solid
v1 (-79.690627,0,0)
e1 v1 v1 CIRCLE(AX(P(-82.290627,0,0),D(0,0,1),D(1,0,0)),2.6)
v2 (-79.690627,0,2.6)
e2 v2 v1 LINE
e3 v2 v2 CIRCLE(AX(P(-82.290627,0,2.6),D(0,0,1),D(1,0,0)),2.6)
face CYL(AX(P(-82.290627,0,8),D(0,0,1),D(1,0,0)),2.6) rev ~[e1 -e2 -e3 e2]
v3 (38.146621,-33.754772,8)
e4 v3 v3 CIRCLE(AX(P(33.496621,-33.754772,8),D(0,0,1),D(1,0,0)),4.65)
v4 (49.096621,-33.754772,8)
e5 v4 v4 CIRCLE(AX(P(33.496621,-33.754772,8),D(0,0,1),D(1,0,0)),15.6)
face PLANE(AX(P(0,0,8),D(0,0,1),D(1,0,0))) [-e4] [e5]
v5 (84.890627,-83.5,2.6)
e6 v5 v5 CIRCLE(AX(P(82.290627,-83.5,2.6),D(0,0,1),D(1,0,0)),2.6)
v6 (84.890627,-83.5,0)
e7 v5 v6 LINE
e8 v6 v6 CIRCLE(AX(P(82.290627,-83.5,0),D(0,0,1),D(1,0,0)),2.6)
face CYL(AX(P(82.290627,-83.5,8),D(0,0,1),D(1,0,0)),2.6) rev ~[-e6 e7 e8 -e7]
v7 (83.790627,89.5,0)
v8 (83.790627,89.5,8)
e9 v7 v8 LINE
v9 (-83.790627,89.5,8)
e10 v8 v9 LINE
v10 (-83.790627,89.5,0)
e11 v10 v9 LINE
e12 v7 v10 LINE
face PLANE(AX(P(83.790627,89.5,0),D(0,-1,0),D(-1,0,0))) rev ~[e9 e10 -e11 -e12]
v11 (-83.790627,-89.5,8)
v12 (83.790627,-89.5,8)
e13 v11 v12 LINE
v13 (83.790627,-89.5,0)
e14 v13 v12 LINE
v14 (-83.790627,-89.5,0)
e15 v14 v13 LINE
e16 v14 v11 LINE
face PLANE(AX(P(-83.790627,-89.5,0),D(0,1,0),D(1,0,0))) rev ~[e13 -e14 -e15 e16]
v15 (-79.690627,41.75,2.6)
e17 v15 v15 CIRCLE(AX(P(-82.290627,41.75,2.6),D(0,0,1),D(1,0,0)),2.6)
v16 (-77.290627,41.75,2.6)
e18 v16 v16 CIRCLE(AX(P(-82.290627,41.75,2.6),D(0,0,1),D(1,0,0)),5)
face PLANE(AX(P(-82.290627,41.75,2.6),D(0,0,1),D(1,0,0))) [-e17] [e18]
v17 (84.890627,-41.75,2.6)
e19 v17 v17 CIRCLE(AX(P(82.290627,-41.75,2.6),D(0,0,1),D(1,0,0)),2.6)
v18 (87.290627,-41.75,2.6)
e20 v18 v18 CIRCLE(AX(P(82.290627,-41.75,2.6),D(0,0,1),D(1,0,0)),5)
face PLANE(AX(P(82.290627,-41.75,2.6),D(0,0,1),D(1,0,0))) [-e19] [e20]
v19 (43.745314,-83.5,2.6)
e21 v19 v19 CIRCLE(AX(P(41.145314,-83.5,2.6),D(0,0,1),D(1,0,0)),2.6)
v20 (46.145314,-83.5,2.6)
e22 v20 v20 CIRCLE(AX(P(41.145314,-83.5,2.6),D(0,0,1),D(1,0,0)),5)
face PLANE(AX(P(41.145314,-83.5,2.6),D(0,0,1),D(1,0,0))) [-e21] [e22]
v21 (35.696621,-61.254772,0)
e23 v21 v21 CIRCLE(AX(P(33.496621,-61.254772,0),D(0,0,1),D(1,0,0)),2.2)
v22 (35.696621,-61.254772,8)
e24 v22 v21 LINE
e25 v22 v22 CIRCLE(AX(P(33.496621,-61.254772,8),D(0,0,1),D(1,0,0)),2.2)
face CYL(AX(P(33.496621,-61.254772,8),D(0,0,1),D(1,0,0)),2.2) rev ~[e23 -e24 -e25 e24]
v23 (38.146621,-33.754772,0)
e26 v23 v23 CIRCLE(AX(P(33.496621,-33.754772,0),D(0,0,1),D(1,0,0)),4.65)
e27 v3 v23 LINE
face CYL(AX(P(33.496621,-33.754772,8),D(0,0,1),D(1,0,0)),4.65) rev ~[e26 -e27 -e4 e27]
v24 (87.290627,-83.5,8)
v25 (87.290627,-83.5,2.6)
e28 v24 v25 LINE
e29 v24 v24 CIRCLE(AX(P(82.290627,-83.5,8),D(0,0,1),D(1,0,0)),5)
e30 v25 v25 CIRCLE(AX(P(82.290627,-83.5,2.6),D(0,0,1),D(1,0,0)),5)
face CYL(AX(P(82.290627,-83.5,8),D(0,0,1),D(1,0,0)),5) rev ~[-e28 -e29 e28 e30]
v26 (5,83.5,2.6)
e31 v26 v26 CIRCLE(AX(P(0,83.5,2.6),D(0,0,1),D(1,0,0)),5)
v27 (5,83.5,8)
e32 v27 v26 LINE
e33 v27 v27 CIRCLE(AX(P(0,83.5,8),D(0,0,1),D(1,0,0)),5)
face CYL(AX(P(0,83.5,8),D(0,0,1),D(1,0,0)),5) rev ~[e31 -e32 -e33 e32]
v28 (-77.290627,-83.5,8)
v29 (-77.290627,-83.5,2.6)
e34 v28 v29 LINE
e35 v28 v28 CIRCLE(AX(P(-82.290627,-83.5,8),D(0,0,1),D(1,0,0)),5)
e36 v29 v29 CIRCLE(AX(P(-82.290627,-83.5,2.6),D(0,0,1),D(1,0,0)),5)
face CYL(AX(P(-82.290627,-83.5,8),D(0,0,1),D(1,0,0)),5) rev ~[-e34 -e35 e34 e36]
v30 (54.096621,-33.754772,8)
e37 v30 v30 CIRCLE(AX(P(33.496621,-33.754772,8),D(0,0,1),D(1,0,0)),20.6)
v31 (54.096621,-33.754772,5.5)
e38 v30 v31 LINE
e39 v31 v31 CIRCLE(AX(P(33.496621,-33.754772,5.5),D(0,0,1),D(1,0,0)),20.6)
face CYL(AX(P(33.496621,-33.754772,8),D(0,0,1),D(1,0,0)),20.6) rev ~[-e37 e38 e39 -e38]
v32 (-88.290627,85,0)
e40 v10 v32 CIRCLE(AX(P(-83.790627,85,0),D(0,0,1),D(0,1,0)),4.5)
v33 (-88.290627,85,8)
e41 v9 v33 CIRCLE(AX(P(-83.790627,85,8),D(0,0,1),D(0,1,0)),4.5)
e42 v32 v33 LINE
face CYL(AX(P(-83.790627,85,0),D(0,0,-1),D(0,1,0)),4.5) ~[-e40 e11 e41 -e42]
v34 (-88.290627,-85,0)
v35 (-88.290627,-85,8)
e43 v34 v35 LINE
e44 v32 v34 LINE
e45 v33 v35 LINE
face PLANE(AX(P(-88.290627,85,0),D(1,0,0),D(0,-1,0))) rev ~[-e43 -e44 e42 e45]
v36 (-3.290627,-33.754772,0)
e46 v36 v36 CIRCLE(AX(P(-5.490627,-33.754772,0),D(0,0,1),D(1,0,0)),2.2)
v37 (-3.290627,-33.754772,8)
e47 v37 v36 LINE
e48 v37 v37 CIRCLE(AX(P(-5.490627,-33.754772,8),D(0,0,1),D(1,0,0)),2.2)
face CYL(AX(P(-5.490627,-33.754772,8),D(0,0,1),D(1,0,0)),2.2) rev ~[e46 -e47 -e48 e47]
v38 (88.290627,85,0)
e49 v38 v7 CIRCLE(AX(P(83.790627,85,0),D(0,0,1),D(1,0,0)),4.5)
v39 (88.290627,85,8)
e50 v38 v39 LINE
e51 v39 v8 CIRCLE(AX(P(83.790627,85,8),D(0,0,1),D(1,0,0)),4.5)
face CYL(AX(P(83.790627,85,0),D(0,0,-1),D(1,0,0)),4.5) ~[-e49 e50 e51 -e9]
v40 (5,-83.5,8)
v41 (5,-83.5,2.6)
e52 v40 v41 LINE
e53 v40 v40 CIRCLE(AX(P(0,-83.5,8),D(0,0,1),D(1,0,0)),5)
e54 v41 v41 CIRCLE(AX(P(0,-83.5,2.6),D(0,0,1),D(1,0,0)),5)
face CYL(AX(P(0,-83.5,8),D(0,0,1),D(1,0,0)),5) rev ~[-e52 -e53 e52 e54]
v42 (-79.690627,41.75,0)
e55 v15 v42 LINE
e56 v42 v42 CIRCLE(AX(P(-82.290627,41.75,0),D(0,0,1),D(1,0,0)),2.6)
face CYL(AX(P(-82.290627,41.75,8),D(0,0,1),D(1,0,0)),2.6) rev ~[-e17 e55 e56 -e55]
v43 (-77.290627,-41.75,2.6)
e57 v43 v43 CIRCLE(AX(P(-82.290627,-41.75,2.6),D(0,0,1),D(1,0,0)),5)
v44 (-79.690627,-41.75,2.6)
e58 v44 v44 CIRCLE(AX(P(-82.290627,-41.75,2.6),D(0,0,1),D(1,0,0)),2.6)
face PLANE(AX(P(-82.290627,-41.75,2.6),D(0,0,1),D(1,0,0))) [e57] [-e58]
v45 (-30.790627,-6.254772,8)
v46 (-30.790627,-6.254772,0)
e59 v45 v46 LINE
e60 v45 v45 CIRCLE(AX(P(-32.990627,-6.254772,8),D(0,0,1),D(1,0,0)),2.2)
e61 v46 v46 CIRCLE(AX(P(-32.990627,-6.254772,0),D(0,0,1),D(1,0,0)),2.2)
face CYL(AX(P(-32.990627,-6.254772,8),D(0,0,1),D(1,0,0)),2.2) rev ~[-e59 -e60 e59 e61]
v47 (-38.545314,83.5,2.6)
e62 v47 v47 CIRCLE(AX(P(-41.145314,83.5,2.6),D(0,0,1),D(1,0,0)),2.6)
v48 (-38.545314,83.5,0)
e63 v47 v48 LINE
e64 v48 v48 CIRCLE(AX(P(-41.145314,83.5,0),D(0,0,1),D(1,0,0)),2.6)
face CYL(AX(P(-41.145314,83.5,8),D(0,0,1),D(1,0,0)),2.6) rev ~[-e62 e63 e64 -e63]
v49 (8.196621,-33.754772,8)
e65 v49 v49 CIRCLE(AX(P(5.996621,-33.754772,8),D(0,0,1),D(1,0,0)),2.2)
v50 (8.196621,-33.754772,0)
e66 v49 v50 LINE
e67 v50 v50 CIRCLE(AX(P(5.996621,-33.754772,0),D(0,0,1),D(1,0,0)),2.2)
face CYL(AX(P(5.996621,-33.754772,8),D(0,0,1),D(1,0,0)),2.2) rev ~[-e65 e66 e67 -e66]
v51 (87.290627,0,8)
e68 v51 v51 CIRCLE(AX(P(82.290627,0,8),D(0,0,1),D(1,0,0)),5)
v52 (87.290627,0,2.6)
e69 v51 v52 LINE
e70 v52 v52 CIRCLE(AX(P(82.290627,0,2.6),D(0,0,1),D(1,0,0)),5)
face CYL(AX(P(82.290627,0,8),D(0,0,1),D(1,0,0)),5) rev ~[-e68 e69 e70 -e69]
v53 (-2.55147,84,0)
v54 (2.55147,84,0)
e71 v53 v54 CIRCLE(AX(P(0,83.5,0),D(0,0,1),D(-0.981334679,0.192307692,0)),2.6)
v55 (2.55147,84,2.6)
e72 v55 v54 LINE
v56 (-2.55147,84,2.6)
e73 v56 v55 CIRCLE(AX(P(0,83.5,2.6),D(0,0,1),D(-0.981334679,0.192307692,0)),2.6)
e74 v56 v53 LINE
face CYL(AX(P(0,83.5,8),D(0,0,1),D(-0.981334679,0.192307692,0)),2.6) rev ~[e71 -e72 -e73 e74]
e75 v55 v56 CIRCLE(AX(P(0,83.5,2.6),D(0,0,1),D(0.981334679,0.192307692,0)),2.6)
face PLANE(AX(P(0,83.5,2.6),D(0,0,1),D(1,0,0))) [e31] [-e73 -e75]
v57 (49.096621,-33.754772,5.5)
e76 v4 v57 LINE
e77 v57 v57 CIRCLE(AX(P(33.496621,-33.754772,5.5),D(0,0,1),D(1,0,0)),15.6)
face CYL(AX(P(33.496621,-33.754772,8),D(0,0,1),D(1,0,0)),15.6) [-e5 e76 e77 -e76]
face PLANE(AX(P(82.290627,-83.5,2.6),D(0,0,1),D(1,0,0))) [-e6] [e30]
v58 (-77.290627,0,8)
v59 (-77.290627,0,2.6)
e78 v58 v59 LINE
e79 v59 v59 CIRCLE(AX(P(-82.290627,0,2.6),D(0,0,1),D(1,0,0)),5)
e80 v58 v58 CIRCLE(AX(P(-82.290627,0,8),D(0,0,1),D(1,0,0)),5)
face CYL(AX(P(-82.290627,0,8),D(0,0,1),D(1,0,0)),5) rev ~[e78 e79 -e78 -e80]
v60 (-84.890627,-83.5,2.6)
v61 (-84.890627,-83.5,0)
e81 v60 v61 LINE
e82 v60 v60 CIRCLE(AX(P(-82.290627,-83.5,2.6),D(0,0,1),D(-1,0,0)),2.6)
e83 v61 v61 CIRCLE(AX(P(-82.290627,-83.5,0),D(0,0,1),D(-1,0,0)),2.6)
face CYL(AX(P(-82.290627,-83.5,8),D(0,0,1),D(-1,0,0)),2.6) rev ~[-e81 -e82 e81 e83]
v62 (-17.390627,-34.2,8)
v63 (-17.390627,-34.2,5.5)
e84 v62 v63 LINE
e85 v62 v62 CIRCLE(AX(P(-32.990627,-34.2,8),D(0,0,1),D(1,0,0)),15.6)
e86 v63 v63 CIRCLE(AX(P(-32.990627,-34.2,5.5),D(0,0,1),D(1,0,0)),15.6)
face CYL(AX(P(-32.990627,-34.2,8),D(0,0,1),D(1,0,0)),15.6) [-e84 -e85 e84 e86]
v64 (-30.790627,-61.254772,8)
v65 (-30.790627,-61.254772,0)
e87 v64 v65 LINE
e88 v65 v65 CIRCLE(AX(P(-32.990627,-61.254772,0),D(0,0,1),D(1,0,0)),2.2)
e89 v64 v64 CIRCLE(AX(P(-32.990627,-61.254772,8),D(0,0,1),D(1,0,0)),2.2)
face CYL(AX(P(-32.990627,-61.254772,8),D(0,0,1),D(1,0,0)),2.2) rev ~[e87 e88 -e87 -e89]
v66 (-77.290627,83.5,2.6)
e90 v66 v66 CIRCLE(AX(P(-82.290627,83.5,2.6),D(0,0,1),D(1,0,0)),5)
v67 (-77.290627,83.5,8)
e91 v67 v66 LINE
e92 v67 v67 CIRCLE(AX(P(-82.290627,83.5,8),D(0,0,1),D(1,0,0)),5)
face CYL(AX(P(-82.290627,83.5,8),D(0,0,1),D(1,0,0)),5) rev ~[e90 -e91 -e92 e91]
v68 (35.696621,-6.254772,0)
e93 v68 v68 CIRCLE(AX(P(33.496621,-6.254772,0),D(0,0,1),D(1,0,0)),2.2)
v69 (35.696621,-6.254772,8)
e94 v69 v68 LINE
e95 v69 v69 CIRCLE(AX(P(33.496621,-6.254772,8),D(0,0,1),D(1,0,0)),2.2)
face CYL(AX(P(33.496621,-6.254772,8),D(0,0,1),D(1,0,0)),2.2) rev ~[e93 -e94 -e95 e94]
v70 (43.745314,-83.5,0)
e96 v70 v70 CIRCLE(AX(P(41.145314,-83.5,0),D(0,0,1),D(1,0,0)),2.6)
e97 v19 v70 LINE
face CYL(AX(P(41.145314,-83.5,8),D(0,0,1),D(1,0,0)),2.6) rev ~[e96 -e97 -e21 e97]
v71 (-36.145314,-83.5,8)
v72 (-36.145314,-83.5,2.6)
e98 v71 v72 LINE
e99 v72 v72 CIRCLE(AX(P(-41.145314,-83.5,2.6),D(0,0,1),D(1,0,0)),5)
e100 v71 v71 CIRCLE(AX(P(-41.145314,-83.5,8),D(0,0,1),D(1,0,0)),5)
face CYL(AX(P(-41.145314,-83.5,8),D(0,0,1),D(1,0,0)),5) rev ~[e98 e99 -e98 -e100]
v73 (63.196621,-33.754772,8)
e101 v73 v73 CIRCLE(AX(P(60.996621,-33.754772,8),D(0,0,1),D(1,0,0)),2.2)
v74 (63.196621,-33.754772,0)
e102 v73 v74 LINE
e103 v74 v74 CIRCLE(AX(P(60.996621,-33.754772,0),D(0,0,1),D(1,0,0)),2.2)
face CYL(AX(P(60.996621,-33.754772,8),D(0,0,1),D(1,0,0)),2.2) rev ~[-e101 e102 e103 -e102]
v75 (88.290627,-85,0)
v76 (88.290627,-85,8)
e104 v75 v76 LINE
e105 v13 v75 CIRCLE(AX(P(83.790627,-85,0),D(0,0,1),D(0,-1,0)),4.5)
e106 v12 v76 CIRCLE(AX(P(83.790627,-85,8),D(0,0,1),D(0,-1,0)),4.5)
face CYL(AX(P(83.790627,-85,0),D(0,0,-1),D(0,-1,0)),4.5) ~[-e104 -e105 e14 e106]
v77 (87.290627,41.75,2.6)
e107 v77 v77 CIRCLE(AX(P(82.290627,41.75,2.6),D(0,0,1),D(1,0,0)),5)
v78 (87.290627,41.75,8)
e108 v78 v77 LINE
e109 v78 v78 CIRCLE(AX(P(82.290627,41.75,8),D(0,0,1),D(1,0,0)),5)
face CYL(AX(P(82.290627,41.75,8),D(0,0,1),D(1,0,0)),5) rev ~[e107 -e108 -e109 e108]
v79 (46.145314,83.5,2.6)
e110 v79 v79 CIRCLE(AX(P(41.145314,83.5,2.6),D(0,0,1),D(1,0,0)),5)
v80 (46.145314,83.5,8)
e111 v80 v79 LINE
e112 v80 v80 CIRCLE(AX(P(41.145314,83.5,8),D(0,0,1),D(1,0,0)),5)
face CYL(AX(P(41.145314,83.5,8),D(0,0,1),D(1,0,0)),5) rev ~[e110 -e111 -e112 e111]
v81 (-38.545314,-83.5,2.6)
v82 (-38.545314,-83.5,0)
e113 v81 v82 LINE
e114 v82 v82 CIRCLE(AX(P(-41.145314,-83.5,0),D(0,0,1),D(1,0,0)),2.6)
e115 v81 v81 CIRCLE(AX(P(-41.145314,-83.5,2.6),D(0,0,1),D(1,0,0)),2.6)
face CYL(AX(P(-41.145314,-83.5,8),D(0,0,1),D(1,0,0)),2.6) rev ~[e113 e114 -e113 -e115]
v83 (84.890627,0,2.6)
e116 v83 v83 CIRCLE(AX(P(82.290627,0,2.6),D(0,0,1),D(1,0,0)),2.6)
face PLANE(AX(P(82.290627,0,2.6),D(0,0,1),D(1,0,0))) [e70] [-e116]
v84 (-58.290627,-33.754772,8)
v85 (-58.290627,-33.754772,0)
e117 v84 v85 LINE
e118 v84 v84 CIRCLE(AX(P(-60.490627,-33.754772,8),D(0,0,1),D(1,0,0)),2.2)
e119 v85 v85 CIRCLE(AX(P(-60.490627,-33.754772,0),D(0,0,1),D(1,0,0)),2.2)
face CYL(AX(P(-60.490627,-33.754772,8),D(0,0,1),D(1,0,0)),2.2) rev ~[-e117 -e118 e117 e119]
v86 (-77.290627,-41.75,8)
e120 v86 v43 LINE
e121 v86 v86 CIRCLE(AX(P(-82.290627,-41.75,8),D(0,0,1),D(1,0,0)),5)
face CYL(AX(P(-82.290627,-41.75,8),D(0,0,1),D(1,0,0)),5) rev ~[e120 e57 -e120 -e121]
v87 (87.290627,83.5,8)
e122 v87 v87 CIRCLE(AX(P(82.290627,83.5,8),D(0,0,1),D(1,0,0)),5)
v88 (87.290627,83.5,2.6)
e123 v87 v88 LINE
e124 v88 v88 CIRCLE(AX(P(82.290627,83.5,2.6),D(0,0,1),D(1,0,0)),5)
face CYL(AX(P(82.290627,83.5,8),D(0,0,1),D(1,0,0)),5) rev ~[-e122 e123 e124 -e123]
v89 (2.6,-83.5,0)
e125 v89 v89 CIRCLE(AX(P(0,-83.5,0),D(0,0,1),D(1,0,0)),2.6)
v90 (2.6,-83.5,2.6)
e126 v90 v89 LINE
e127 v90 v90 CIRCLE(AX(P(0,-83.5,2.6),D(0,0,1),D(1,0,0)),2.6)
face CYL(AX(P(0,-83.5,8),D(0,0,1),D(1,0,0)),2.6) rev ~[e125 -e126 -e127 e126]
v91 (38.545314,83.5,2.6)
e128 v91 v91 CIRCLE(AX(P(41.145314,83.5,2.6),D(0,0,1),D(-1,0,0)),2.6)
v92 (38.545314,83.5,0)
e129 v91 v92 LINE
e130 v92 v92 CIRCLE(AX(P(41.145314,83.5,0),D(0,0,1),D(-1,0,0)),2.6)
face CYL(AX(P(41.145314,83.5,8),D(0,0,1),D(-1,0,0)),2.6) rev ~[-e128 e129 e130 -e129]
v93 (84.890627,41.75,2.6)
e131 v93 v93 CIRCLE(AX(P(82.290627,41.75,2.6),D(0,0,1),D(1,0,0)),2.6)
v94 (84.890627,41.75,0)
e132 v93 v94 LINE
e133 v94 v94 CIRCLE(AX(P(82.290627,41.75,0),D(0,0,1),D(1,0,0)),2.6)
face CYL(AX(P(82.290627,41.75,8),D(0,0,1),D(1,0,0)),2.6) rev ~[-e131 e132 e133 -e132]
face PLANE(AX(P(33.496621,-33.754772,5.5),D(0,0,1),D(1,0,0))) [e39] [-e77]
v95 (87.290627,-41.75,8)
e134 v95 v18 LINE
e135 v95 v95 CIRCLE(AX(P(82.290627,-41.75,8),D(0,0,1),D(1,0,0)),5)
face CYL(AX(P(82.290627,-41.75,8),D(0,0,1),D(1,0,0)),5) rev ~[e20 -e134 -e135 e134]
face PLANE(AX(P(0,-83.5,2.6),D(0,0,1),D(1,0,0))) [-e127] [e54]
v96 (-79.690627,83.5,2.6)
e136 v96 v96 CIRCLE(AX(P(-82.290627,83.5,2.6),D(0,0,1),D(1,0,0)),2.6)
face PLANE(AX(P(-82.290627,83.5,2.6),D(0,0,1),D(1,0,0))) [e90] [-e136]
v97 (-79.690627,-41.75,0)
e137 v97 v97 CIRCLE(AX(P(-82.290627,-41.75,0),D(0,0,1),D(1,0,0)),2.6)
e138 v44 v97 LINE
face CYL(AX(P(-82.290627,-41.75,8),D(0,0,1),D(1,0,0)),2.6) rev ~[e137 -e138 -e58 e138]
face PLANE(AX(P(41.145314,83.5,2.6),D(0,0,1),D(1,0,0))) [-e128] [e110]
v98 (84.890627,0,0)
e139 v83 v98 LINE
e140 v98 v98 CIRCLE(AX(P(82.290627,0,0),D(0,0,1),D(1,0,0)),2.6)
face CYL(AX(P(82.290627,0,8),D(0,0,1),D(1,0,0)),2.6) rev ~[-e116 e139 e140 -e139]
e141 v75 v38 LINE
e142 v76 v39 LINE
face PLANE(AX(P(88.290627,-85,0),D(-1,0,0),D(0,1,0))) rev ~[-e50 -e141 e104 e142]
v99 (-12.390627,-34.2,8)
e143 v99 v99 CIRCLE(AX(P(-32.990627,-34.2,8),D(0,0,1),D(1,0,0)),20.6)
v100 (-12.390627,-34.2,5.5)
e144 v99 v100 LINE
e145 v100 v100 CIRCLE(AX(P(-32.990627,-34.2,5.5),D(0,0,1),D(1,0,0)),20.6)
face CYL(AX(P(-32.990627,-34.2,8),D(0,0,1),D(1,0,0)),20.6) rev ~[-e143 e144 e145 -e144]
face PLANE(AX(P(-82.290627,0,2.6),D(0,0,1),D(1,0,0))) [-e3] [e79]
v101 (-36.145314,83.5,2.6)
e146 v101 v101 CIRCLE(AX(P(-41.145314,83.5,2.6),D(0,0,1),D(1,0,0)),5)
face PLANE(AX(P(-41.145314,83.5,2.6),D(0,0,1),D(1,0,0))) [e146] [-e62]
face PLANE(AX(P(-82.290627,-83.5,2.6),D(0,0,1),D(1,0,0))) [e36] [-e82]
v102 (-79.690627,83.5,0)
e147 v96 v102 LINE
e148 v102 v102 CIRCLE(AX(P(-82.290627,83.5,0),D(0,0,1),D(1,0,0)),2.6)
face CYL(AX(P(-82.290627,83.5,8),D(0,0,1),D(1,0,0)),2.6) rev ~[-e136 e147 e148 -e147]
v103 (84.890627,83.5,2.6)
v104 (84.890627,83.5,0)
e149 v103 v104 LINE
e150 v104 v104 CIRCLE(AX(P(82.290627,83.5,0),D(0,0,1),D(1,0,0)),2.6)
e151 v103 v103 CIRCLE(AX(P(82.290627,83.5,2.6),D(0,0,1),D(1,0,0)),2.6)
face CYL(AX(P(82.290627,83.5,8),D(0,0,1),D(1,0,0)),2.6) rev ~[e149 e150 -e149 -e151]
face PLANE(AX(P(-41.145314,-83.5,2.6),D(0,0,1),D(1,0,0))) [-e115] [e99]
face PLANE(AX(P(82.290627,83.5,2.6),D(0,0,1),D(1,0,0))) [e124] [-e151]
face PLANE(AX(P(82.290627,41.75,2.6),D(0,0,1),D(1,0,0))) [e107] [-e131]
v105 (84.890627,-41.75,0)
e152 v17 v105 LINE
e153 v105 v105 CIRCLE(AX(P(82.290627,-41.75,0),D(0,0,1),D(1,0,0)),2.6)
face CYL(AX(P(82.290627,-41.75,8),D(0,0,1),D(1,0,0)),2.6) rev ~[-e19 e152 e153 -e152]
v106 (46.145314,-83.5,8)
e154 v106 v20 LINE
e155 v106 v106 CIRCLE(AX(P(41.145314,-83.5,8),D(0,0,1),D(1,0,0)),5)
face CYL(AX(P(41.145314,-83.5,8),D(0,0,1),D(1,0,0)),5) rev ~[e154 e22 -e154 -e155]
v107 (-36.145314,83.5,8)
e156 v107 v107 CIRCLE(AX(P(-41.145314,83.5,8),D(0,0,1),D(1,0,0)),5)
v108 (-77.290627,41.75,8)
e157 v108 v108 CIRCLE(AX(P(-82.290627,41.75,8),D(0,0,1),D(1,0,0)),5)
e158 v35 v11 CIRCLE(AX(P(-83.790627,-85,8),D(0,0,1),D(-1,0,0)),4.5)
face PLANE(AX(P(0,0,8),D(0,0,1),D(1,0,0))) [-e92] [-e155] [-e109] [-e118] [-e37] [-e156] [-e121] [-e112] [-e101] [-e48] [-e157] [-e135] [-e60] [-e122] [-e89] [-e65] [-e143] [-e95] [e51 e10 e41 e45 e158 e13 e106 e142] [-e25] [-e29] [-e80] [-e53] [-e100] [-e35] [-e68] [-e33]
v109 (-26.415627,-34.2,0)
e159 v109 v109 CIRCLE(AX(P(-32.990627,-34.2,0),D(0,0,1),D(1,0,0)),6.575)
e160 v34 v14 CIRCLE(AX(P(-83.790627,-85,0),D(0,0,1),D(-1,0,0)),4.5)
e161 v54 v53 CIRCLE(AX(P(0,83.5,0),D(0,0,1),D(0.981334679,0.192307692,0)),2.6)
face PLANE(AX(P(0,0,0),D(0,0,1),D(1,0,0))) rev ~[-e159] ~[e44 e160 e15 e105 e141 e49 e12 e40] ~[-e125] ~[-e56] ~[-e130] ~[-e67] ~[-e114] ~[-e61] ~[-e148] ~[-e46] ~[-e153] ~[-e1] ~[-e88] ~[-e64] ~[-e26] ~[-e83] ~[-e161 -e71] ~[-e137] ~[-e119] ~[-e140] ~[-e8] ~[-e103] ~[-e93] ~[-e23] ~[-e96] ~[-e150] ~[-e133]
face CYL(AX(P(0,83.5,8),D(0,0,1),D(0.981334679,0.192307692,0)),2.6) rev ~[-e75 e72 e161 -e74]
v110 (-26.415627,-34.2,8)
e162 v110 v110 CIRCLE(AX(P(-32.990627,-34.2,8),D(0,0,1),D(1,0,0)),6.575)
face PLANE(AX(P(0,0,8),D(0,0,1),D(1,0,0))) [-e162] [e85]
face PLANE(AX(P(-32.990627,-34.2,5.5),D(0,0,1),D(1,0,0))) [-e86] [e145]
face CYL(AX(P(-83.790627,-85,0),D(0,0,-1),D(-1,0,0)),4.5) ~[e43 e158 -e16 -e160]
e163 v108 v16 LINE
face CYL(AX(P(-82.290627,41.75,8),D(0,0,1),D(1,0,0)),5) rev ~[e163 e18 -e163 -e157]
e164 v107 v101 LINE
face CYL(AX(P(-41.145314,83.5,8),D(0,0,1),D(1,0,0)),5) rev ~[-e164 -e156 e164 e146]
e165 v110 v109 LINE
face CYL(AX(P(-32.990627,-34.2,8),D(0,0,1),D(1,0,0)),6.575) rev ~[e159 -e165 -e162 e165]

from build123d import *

# Parameters (mm, degrees)
BOSS_EXTRUDE1_DEPTH = 8
CUT_EXTRUDE1_DEPTH  = 90
SKETCH3_R           = 5
CUT_EXTRUDE2_DEPTH  = 5.4
SKETCH5_R           = 2.2
SKETCH5_R_2         = 4.65
CUT_EXTRUDE3_DEPTH  = 20
SKETCH6_R           = 20.6
SKETCH6_R_2         = 15.6
CUT_EXTRUDE4_DEPTH  = 2.5
SKETCH7_R           = 20.6
SKETCH7_R_2         = 15.6
CUT_EXTRUDE5_DEPTH  = 2.5
CUT_EXTRUDE6_REACH  = 127.974
SKETCH9_R           = 2.2
SKETCH9_R_2         = 6.575


with BuildPart() as part:
    # Sketch1 → Boss-Extrude1 (new body)
    with BuildSketch(Plane.XY):
        with BuildLine():
            Line((-83.790627288, -89.5), (83.790627288, -89.5))
            ThreePointArc((83.790627288, -89.5), (86.972607803, -88.181980515), (88.290627288, -85))
            Line((88.290627288, -85), (88.290627288, 85))
            ThreePointArc((88.290627288, 85), (86.972607803, 88.181980515), (83.790627288, 89.5))
            Line((83.790627288, 89.5), (-83.790627288, 89.5))
            ThreePointArc((-83.790627288, 89.5), (-86.972607803, 88.181980515), (-88.290627288, 85))
            Line((-88.290627288, 85), (-88.290627288, -85))
            ThreePointArc((-88.290627288, -85), (-86.972607803, -88.181980515), (-83.790627288, -89.5))
        make_face()
    extrude(amount=BOSS_EXTRUDE1_DEPTH)

    # Sketch2 → Cut-Extrude1 (cut)
    with BuildSketch(Plane.XY.offset(8)):
        with BuildLine():
            ThreePointArc((43.745313644, 83.5), (41.145313644, 86.1), (38.545313644, 83.5))
            ThreePointArc((38.545313644, 83.5), (41.145313644, 80.9), (43.745313644, 83.5))
        make_face()
        with BuildLine():
            Line((0, 84), (2.551470164, 84))
            ThreePointArc((2.551470164, 84), (0, 86.1), (-2.551470164, 84))
            Line((-2.551470164, 84), (0, 84))
        make_face()
        with BuildLine():
            Line((0, 84), (-2.551470164, 84))
            ThreePointArc((-2.551470164, 84), (0, 80.9), (2.551470164, 84))
            Line((2.551470164, 84), (0, 84))
        make_face()
        with BuildLine():
            ThreePointArc((-43.745313644, 83.5), (-41.145313644, 80.9), (-38.545313644, 83.5))
            ThreePointArc((-38.545313644, 83.5), (-41.145313644, 86.1), (-43.745313644, 83.5))
        make_face()
        with BuildLine():
            ThreePointArc((-84.890627288, 83.5), (-82.290627288, 80.9), (-79.690627288, 83.5))
            ThreePointArc((-79.690627288, 83.5), (-82.290627288, 86.1), (-84.890627288, 83.5))
        make_face()
        with BuildLine():
            ThreePointArc((-84.890627288, 41.75), (-82.290627288, 39.15), (-79.690627288, 41.75))
            ThreePointArc((-79.690627288, 41.75), (-82.290627288, 44.35), (-84.890627288, 41.75))
        make_face()
        with BuildLine():
            ThreePointArc((-84.890627288, 0), (-82.290627288, -2.6), (-79.690627288, 0))
            ThreePointArc((-79.690627288, 0), (-82.290627288, 2.6), (-84.890627288, 0))
        make_face()
        with BuildLine():
            ThreePointArc((-79.690627288, -83.5), (-82.290627288, -80.9), (-84.890627288, -83.5))
            ThreePointArc((-84.890627288, -83.5), (-82.290627288, -86.1), (-79.690627288, -83.5))
        make_face()
        with BuildLine():
            ThreePointArc((-84.890627288, -41.75), (-82.290627288, -44.35), (-79.690627288, -41.75))
            ThreePointArc((-79.690627288, -41.75), (-82.290627288, -39.15), (-84.890627288, -41.75))
        make_face()
        with BuildLine():
            ThreePointArc((-43.745313644, -83.5), (-41.145313644, -86.1), (-38.545313644, -83.5))
            ThreePointArc((-38.545313644, -83.5), (-41.145313644, -80.9), (-43.745313644, -83.5))
        make_face()
        with BuildLine():
            ThreePointArc((-2.6, -83.5), (0, -86.1), (2.6, -83.5))
            ThreePointArc((2.6, -83.5), (0, -80.9), (-2.6, -83.5))
        make_face()
        with BuildLine():
            ThreePointArc((38.545313644, -83.5), (41.145313644, -86.1), (43.745313644, -83.5))
            ThreePointArc((43.745313644, -83.5), (41.145313644, -80.9), (38.545313644, -83.5))
        make_face()
        with BuildLine():
            ThreePointArc((79.690627288, -83.5), (82.290627288, -86.1), (84.890627288, -83.5))
            ThreePointArc((84.890627288, -83.5), (82.290627288, -80.9), (79.690627288, -83.5))
        make_face()
        with BuildLine():
            ThreePointArc((79.690627288, -41.75), (82.290627288, -44.35), (84.890627288, -41.75))
            ThreePointArc((84.890627288, -41.75), (82.290627288, -39.15), (79.690627288, -41.75))
        make_face()
        with BuildLine():
            ThreePointArc((79.690627288, 0), (82.290627288, -2.6), (84.890627288, 0))
            ThreePointArc((84.890627288, 0), (82.290627288, 2.6), (79.690627288, 0))
        make_face()
        with BuildLine():
            ThreePointArc((79.690627288, 41.75), (82.290627288, 39.15), (84.890627288, 41.75))
            ThreePointArc((84.890627288, 41.75), (82.290627288, 44.35), (79.690627288, 41.75))
        make_face()
        with BuildLine():
            ThreePointArc((79.690627288, 83.5), (82.290627288, 80.9), (84.890627288, 83.5))
            ThreePointArc((84.890627288, 83.5), (82.290627288, 86.1), (79.690627288, 83.5))
        make_face()
    extrude(amount=-CUT_EXTRUDE1_DEPTH, mode=Mode.SUBTRACT)

    # Sketch3 → Cut-Extrude2 (cut)
    with BuildSketch(Plane.XY.offset(8)):
        with Locations((41.145313644, 83.5)):
            Circle(SKETCH3_R)
        with Locations((82.290627288, 83.5)):
            Circle(SKETCH3_R)
        with Locations((82.290627288, 41.75)):
            Circle(SKETCH3_R)
        with Locations((82.290627288, 0)):
            Circle(SKETCH3_R)
        with Locations((82.290627288, -41.75)):
            Circle(SKETCH3_R)
        with Locations((82.290627288, -83.5)):
            Circle(SKETCH3_R)
        with Locations((41.145313644, -83.5)):
            Circle(SKETCH3_R)
        with Locations((0, -83.5)):
            Circle(SKETCH3_R)
        with Locations((-82.290627288, 0)):
            Circle(SKETCH3_R)
        with Locations((-82.290627288, -83.5)):
            Circle(SKETCH3_R)
        with Locations((-82.290627288, -41.75)):
            Circle(SKETCH3_R)
        with Locations((-41.145313644, -83.5)):
            Circle(SKETCH3_R)
        with Locations((-82.290627288, 41.75)):
            Circle(SKETCH3_R)
        with Locations((-82.290627288, 83.5)):
            Circle(SKETCH3_R)
        with Locations((-41.145313644, 83.5)):
            Circle(SKETCH3_R)
        with Locations((0, 83.5)):
            Circle(SKETCH3_R)
    extrude(amount=-CUT_EXTRUDE2_DEPTH, mode=Mode.SUBTRACT)

    # Sketch5 → Cut-Extrude3 (cut)
    with BuildSketch(Plane.XY.offset(8)):
        with Locations((33.49662103, -6.254772237)):
            Circle(SKETCH5_R)
        with Locations((5.99662103, -33.754772237)):
            Circle(SKETCH5_R)
        with Locations((33.49662103, -61.254772237)):
            Circle(SKETCH5_R)
        with Locations((60.99662103, -33.754772237)):
            Circle(SKETCH5_R)
        with Locations((33.49662103, -33.754772237)):
            Circle(SKETCH5_R_2)
    extrude(amount=-CUT_EXTRUDE3_DEPTH, mode=Mode.SUBTRACT)

    # Sketch6 → Cut-Extrude4 (cut)
    with BuildSketch(Plane.XY.offset(8)):
        with Locations((33.49662103, -33.754772237)):
            Circle(SKETCH6_R)
        with Locations((33.49662103, -33.754772237)):
            Circle(SKETCH6_R_2, mode=Mode.SUBTRACT)
    extrude(amount=-CUT_EXTRUDE4_DEPTH, mode=Mode.SUBTRACT)

    # Sketch7 → Cut-Extrude5 (cut)
    with BuildSketch(Plane.XY.offset(8)):
        with Locations((-32.990627288, -34.2)):
            Circle(SKETCH7_R)
        with Locations((-32.990627288, -34.2)):
            Circle(SKETCH7_R_2, mode=Mode.SUBTRACT)
    extrude(amount=-CUT_EXTRUDE5_DEPTH, mode=Mode.SUBTRACT)

    # Sketch9 → Cut-Extrude6 (cut, up to next)
    with BuildSketch(Plane.XY.offset(8), mode=Mode.PRIVATE) as cut_extrude6_sk1:
        with Locations((-5.490627288, -33.754772237)):
            Circle(SKETCH9_R)
    cut_extrude6_tool1 = extrude(cut_extrude6_sk1.sketch, amount=-CUT_EXTRUDE6_REACH, mode=Mode.PRIVATE) & part.part
    # Sketch9 → Cut-Extrude6 (cut, up to next)
    with BuildSketch(Plane.XY.offset(8), mode=Mode.PRIVATE) as cut_extrude6_sk2:
        with Locations((-32.990627288, -6.254772237)):
            Circle(SKETCH9_R)
    cut_extrude6_tool2 = extrude(cut_extrude6_sk2.sketch, amount=-CUT_EXTRUDE6_REACH, mode=Mode.PRIVATE) & part.part
    # Sketch9 → Cut-Extrude6 (cut, up to next)
    with BuildSketch(Plane.XY.offset(8), mode=Mode.PRIVATE) as cut_extrude6_sk3:
        with Locations((-32.990627288, -61.254772237)):
            Circle(SKETCH9_R)
    cut_extrude6_tool3 = extrude(cut_extrude6_sk3.sketch, amount=-CUT_EXTRUDE6_REACH, mode=Mode.PRIVATE) & part.part
    # Sketch9 → Cut-Extrude6 (cut, up to next)
    with BuildSketch(Plane.XY.offset(8), mode=Mode.PRIVATE) as cut_extrude6_sk4:
        with Locations((-32.990627288, -34.2)):
            Circle(SKETCH9_R_2)
    cut_extrude6_tool4 = extrude(cut_extrude6_sk4.sketch, amount=-CUT_EXTRUDE6_REACH, mode=Mode.PRIVATE) & part.part
    # Sketch9 → Cut-Extrude6 (cut, up to next)
    with BuildSketch(Plane.XY.offset(8), mode=Mode.PRIVATE) as cut_extrude6_sk5:
        with Locations((-60.490627288, -33.754772237)):
            Circle(SKETCH9_R)
    cut_extrude6_tool5 = extrude(cut_extrude6_sk5.sketch, amount=-CUT_EXTRUDE6_REACH, mode=Mode.PRIVATE) & part.part
    add(cut_extrude6_tool1.solids().sort_by_distance((-5.490627, -33.754772, 8))[0], mode=Mode.SUBTRACT)
    add(cut_extrude6_tool2.solids().sort_by_distance((-32.990627, -6.254772, 8))[0], mode=Mode.SUBTRACT)
    add(cut_extrude6_tool3.solids().sort_by_distance((-32.990627, -61.254772, 8))[0], mode=Mode.SUBTRACT)
    add(cut_extrude6_tool4.solids().sort_by_distance((-32.990627, -34.2, 8))[0], mode=Mode.SUBTRACT)
    add(cut_extrude6_tool5.solids().sort_by_distance((-60.490627, -33.754772, 8))[0], mode=Mode.SUBTRACT)


solid = part.part
